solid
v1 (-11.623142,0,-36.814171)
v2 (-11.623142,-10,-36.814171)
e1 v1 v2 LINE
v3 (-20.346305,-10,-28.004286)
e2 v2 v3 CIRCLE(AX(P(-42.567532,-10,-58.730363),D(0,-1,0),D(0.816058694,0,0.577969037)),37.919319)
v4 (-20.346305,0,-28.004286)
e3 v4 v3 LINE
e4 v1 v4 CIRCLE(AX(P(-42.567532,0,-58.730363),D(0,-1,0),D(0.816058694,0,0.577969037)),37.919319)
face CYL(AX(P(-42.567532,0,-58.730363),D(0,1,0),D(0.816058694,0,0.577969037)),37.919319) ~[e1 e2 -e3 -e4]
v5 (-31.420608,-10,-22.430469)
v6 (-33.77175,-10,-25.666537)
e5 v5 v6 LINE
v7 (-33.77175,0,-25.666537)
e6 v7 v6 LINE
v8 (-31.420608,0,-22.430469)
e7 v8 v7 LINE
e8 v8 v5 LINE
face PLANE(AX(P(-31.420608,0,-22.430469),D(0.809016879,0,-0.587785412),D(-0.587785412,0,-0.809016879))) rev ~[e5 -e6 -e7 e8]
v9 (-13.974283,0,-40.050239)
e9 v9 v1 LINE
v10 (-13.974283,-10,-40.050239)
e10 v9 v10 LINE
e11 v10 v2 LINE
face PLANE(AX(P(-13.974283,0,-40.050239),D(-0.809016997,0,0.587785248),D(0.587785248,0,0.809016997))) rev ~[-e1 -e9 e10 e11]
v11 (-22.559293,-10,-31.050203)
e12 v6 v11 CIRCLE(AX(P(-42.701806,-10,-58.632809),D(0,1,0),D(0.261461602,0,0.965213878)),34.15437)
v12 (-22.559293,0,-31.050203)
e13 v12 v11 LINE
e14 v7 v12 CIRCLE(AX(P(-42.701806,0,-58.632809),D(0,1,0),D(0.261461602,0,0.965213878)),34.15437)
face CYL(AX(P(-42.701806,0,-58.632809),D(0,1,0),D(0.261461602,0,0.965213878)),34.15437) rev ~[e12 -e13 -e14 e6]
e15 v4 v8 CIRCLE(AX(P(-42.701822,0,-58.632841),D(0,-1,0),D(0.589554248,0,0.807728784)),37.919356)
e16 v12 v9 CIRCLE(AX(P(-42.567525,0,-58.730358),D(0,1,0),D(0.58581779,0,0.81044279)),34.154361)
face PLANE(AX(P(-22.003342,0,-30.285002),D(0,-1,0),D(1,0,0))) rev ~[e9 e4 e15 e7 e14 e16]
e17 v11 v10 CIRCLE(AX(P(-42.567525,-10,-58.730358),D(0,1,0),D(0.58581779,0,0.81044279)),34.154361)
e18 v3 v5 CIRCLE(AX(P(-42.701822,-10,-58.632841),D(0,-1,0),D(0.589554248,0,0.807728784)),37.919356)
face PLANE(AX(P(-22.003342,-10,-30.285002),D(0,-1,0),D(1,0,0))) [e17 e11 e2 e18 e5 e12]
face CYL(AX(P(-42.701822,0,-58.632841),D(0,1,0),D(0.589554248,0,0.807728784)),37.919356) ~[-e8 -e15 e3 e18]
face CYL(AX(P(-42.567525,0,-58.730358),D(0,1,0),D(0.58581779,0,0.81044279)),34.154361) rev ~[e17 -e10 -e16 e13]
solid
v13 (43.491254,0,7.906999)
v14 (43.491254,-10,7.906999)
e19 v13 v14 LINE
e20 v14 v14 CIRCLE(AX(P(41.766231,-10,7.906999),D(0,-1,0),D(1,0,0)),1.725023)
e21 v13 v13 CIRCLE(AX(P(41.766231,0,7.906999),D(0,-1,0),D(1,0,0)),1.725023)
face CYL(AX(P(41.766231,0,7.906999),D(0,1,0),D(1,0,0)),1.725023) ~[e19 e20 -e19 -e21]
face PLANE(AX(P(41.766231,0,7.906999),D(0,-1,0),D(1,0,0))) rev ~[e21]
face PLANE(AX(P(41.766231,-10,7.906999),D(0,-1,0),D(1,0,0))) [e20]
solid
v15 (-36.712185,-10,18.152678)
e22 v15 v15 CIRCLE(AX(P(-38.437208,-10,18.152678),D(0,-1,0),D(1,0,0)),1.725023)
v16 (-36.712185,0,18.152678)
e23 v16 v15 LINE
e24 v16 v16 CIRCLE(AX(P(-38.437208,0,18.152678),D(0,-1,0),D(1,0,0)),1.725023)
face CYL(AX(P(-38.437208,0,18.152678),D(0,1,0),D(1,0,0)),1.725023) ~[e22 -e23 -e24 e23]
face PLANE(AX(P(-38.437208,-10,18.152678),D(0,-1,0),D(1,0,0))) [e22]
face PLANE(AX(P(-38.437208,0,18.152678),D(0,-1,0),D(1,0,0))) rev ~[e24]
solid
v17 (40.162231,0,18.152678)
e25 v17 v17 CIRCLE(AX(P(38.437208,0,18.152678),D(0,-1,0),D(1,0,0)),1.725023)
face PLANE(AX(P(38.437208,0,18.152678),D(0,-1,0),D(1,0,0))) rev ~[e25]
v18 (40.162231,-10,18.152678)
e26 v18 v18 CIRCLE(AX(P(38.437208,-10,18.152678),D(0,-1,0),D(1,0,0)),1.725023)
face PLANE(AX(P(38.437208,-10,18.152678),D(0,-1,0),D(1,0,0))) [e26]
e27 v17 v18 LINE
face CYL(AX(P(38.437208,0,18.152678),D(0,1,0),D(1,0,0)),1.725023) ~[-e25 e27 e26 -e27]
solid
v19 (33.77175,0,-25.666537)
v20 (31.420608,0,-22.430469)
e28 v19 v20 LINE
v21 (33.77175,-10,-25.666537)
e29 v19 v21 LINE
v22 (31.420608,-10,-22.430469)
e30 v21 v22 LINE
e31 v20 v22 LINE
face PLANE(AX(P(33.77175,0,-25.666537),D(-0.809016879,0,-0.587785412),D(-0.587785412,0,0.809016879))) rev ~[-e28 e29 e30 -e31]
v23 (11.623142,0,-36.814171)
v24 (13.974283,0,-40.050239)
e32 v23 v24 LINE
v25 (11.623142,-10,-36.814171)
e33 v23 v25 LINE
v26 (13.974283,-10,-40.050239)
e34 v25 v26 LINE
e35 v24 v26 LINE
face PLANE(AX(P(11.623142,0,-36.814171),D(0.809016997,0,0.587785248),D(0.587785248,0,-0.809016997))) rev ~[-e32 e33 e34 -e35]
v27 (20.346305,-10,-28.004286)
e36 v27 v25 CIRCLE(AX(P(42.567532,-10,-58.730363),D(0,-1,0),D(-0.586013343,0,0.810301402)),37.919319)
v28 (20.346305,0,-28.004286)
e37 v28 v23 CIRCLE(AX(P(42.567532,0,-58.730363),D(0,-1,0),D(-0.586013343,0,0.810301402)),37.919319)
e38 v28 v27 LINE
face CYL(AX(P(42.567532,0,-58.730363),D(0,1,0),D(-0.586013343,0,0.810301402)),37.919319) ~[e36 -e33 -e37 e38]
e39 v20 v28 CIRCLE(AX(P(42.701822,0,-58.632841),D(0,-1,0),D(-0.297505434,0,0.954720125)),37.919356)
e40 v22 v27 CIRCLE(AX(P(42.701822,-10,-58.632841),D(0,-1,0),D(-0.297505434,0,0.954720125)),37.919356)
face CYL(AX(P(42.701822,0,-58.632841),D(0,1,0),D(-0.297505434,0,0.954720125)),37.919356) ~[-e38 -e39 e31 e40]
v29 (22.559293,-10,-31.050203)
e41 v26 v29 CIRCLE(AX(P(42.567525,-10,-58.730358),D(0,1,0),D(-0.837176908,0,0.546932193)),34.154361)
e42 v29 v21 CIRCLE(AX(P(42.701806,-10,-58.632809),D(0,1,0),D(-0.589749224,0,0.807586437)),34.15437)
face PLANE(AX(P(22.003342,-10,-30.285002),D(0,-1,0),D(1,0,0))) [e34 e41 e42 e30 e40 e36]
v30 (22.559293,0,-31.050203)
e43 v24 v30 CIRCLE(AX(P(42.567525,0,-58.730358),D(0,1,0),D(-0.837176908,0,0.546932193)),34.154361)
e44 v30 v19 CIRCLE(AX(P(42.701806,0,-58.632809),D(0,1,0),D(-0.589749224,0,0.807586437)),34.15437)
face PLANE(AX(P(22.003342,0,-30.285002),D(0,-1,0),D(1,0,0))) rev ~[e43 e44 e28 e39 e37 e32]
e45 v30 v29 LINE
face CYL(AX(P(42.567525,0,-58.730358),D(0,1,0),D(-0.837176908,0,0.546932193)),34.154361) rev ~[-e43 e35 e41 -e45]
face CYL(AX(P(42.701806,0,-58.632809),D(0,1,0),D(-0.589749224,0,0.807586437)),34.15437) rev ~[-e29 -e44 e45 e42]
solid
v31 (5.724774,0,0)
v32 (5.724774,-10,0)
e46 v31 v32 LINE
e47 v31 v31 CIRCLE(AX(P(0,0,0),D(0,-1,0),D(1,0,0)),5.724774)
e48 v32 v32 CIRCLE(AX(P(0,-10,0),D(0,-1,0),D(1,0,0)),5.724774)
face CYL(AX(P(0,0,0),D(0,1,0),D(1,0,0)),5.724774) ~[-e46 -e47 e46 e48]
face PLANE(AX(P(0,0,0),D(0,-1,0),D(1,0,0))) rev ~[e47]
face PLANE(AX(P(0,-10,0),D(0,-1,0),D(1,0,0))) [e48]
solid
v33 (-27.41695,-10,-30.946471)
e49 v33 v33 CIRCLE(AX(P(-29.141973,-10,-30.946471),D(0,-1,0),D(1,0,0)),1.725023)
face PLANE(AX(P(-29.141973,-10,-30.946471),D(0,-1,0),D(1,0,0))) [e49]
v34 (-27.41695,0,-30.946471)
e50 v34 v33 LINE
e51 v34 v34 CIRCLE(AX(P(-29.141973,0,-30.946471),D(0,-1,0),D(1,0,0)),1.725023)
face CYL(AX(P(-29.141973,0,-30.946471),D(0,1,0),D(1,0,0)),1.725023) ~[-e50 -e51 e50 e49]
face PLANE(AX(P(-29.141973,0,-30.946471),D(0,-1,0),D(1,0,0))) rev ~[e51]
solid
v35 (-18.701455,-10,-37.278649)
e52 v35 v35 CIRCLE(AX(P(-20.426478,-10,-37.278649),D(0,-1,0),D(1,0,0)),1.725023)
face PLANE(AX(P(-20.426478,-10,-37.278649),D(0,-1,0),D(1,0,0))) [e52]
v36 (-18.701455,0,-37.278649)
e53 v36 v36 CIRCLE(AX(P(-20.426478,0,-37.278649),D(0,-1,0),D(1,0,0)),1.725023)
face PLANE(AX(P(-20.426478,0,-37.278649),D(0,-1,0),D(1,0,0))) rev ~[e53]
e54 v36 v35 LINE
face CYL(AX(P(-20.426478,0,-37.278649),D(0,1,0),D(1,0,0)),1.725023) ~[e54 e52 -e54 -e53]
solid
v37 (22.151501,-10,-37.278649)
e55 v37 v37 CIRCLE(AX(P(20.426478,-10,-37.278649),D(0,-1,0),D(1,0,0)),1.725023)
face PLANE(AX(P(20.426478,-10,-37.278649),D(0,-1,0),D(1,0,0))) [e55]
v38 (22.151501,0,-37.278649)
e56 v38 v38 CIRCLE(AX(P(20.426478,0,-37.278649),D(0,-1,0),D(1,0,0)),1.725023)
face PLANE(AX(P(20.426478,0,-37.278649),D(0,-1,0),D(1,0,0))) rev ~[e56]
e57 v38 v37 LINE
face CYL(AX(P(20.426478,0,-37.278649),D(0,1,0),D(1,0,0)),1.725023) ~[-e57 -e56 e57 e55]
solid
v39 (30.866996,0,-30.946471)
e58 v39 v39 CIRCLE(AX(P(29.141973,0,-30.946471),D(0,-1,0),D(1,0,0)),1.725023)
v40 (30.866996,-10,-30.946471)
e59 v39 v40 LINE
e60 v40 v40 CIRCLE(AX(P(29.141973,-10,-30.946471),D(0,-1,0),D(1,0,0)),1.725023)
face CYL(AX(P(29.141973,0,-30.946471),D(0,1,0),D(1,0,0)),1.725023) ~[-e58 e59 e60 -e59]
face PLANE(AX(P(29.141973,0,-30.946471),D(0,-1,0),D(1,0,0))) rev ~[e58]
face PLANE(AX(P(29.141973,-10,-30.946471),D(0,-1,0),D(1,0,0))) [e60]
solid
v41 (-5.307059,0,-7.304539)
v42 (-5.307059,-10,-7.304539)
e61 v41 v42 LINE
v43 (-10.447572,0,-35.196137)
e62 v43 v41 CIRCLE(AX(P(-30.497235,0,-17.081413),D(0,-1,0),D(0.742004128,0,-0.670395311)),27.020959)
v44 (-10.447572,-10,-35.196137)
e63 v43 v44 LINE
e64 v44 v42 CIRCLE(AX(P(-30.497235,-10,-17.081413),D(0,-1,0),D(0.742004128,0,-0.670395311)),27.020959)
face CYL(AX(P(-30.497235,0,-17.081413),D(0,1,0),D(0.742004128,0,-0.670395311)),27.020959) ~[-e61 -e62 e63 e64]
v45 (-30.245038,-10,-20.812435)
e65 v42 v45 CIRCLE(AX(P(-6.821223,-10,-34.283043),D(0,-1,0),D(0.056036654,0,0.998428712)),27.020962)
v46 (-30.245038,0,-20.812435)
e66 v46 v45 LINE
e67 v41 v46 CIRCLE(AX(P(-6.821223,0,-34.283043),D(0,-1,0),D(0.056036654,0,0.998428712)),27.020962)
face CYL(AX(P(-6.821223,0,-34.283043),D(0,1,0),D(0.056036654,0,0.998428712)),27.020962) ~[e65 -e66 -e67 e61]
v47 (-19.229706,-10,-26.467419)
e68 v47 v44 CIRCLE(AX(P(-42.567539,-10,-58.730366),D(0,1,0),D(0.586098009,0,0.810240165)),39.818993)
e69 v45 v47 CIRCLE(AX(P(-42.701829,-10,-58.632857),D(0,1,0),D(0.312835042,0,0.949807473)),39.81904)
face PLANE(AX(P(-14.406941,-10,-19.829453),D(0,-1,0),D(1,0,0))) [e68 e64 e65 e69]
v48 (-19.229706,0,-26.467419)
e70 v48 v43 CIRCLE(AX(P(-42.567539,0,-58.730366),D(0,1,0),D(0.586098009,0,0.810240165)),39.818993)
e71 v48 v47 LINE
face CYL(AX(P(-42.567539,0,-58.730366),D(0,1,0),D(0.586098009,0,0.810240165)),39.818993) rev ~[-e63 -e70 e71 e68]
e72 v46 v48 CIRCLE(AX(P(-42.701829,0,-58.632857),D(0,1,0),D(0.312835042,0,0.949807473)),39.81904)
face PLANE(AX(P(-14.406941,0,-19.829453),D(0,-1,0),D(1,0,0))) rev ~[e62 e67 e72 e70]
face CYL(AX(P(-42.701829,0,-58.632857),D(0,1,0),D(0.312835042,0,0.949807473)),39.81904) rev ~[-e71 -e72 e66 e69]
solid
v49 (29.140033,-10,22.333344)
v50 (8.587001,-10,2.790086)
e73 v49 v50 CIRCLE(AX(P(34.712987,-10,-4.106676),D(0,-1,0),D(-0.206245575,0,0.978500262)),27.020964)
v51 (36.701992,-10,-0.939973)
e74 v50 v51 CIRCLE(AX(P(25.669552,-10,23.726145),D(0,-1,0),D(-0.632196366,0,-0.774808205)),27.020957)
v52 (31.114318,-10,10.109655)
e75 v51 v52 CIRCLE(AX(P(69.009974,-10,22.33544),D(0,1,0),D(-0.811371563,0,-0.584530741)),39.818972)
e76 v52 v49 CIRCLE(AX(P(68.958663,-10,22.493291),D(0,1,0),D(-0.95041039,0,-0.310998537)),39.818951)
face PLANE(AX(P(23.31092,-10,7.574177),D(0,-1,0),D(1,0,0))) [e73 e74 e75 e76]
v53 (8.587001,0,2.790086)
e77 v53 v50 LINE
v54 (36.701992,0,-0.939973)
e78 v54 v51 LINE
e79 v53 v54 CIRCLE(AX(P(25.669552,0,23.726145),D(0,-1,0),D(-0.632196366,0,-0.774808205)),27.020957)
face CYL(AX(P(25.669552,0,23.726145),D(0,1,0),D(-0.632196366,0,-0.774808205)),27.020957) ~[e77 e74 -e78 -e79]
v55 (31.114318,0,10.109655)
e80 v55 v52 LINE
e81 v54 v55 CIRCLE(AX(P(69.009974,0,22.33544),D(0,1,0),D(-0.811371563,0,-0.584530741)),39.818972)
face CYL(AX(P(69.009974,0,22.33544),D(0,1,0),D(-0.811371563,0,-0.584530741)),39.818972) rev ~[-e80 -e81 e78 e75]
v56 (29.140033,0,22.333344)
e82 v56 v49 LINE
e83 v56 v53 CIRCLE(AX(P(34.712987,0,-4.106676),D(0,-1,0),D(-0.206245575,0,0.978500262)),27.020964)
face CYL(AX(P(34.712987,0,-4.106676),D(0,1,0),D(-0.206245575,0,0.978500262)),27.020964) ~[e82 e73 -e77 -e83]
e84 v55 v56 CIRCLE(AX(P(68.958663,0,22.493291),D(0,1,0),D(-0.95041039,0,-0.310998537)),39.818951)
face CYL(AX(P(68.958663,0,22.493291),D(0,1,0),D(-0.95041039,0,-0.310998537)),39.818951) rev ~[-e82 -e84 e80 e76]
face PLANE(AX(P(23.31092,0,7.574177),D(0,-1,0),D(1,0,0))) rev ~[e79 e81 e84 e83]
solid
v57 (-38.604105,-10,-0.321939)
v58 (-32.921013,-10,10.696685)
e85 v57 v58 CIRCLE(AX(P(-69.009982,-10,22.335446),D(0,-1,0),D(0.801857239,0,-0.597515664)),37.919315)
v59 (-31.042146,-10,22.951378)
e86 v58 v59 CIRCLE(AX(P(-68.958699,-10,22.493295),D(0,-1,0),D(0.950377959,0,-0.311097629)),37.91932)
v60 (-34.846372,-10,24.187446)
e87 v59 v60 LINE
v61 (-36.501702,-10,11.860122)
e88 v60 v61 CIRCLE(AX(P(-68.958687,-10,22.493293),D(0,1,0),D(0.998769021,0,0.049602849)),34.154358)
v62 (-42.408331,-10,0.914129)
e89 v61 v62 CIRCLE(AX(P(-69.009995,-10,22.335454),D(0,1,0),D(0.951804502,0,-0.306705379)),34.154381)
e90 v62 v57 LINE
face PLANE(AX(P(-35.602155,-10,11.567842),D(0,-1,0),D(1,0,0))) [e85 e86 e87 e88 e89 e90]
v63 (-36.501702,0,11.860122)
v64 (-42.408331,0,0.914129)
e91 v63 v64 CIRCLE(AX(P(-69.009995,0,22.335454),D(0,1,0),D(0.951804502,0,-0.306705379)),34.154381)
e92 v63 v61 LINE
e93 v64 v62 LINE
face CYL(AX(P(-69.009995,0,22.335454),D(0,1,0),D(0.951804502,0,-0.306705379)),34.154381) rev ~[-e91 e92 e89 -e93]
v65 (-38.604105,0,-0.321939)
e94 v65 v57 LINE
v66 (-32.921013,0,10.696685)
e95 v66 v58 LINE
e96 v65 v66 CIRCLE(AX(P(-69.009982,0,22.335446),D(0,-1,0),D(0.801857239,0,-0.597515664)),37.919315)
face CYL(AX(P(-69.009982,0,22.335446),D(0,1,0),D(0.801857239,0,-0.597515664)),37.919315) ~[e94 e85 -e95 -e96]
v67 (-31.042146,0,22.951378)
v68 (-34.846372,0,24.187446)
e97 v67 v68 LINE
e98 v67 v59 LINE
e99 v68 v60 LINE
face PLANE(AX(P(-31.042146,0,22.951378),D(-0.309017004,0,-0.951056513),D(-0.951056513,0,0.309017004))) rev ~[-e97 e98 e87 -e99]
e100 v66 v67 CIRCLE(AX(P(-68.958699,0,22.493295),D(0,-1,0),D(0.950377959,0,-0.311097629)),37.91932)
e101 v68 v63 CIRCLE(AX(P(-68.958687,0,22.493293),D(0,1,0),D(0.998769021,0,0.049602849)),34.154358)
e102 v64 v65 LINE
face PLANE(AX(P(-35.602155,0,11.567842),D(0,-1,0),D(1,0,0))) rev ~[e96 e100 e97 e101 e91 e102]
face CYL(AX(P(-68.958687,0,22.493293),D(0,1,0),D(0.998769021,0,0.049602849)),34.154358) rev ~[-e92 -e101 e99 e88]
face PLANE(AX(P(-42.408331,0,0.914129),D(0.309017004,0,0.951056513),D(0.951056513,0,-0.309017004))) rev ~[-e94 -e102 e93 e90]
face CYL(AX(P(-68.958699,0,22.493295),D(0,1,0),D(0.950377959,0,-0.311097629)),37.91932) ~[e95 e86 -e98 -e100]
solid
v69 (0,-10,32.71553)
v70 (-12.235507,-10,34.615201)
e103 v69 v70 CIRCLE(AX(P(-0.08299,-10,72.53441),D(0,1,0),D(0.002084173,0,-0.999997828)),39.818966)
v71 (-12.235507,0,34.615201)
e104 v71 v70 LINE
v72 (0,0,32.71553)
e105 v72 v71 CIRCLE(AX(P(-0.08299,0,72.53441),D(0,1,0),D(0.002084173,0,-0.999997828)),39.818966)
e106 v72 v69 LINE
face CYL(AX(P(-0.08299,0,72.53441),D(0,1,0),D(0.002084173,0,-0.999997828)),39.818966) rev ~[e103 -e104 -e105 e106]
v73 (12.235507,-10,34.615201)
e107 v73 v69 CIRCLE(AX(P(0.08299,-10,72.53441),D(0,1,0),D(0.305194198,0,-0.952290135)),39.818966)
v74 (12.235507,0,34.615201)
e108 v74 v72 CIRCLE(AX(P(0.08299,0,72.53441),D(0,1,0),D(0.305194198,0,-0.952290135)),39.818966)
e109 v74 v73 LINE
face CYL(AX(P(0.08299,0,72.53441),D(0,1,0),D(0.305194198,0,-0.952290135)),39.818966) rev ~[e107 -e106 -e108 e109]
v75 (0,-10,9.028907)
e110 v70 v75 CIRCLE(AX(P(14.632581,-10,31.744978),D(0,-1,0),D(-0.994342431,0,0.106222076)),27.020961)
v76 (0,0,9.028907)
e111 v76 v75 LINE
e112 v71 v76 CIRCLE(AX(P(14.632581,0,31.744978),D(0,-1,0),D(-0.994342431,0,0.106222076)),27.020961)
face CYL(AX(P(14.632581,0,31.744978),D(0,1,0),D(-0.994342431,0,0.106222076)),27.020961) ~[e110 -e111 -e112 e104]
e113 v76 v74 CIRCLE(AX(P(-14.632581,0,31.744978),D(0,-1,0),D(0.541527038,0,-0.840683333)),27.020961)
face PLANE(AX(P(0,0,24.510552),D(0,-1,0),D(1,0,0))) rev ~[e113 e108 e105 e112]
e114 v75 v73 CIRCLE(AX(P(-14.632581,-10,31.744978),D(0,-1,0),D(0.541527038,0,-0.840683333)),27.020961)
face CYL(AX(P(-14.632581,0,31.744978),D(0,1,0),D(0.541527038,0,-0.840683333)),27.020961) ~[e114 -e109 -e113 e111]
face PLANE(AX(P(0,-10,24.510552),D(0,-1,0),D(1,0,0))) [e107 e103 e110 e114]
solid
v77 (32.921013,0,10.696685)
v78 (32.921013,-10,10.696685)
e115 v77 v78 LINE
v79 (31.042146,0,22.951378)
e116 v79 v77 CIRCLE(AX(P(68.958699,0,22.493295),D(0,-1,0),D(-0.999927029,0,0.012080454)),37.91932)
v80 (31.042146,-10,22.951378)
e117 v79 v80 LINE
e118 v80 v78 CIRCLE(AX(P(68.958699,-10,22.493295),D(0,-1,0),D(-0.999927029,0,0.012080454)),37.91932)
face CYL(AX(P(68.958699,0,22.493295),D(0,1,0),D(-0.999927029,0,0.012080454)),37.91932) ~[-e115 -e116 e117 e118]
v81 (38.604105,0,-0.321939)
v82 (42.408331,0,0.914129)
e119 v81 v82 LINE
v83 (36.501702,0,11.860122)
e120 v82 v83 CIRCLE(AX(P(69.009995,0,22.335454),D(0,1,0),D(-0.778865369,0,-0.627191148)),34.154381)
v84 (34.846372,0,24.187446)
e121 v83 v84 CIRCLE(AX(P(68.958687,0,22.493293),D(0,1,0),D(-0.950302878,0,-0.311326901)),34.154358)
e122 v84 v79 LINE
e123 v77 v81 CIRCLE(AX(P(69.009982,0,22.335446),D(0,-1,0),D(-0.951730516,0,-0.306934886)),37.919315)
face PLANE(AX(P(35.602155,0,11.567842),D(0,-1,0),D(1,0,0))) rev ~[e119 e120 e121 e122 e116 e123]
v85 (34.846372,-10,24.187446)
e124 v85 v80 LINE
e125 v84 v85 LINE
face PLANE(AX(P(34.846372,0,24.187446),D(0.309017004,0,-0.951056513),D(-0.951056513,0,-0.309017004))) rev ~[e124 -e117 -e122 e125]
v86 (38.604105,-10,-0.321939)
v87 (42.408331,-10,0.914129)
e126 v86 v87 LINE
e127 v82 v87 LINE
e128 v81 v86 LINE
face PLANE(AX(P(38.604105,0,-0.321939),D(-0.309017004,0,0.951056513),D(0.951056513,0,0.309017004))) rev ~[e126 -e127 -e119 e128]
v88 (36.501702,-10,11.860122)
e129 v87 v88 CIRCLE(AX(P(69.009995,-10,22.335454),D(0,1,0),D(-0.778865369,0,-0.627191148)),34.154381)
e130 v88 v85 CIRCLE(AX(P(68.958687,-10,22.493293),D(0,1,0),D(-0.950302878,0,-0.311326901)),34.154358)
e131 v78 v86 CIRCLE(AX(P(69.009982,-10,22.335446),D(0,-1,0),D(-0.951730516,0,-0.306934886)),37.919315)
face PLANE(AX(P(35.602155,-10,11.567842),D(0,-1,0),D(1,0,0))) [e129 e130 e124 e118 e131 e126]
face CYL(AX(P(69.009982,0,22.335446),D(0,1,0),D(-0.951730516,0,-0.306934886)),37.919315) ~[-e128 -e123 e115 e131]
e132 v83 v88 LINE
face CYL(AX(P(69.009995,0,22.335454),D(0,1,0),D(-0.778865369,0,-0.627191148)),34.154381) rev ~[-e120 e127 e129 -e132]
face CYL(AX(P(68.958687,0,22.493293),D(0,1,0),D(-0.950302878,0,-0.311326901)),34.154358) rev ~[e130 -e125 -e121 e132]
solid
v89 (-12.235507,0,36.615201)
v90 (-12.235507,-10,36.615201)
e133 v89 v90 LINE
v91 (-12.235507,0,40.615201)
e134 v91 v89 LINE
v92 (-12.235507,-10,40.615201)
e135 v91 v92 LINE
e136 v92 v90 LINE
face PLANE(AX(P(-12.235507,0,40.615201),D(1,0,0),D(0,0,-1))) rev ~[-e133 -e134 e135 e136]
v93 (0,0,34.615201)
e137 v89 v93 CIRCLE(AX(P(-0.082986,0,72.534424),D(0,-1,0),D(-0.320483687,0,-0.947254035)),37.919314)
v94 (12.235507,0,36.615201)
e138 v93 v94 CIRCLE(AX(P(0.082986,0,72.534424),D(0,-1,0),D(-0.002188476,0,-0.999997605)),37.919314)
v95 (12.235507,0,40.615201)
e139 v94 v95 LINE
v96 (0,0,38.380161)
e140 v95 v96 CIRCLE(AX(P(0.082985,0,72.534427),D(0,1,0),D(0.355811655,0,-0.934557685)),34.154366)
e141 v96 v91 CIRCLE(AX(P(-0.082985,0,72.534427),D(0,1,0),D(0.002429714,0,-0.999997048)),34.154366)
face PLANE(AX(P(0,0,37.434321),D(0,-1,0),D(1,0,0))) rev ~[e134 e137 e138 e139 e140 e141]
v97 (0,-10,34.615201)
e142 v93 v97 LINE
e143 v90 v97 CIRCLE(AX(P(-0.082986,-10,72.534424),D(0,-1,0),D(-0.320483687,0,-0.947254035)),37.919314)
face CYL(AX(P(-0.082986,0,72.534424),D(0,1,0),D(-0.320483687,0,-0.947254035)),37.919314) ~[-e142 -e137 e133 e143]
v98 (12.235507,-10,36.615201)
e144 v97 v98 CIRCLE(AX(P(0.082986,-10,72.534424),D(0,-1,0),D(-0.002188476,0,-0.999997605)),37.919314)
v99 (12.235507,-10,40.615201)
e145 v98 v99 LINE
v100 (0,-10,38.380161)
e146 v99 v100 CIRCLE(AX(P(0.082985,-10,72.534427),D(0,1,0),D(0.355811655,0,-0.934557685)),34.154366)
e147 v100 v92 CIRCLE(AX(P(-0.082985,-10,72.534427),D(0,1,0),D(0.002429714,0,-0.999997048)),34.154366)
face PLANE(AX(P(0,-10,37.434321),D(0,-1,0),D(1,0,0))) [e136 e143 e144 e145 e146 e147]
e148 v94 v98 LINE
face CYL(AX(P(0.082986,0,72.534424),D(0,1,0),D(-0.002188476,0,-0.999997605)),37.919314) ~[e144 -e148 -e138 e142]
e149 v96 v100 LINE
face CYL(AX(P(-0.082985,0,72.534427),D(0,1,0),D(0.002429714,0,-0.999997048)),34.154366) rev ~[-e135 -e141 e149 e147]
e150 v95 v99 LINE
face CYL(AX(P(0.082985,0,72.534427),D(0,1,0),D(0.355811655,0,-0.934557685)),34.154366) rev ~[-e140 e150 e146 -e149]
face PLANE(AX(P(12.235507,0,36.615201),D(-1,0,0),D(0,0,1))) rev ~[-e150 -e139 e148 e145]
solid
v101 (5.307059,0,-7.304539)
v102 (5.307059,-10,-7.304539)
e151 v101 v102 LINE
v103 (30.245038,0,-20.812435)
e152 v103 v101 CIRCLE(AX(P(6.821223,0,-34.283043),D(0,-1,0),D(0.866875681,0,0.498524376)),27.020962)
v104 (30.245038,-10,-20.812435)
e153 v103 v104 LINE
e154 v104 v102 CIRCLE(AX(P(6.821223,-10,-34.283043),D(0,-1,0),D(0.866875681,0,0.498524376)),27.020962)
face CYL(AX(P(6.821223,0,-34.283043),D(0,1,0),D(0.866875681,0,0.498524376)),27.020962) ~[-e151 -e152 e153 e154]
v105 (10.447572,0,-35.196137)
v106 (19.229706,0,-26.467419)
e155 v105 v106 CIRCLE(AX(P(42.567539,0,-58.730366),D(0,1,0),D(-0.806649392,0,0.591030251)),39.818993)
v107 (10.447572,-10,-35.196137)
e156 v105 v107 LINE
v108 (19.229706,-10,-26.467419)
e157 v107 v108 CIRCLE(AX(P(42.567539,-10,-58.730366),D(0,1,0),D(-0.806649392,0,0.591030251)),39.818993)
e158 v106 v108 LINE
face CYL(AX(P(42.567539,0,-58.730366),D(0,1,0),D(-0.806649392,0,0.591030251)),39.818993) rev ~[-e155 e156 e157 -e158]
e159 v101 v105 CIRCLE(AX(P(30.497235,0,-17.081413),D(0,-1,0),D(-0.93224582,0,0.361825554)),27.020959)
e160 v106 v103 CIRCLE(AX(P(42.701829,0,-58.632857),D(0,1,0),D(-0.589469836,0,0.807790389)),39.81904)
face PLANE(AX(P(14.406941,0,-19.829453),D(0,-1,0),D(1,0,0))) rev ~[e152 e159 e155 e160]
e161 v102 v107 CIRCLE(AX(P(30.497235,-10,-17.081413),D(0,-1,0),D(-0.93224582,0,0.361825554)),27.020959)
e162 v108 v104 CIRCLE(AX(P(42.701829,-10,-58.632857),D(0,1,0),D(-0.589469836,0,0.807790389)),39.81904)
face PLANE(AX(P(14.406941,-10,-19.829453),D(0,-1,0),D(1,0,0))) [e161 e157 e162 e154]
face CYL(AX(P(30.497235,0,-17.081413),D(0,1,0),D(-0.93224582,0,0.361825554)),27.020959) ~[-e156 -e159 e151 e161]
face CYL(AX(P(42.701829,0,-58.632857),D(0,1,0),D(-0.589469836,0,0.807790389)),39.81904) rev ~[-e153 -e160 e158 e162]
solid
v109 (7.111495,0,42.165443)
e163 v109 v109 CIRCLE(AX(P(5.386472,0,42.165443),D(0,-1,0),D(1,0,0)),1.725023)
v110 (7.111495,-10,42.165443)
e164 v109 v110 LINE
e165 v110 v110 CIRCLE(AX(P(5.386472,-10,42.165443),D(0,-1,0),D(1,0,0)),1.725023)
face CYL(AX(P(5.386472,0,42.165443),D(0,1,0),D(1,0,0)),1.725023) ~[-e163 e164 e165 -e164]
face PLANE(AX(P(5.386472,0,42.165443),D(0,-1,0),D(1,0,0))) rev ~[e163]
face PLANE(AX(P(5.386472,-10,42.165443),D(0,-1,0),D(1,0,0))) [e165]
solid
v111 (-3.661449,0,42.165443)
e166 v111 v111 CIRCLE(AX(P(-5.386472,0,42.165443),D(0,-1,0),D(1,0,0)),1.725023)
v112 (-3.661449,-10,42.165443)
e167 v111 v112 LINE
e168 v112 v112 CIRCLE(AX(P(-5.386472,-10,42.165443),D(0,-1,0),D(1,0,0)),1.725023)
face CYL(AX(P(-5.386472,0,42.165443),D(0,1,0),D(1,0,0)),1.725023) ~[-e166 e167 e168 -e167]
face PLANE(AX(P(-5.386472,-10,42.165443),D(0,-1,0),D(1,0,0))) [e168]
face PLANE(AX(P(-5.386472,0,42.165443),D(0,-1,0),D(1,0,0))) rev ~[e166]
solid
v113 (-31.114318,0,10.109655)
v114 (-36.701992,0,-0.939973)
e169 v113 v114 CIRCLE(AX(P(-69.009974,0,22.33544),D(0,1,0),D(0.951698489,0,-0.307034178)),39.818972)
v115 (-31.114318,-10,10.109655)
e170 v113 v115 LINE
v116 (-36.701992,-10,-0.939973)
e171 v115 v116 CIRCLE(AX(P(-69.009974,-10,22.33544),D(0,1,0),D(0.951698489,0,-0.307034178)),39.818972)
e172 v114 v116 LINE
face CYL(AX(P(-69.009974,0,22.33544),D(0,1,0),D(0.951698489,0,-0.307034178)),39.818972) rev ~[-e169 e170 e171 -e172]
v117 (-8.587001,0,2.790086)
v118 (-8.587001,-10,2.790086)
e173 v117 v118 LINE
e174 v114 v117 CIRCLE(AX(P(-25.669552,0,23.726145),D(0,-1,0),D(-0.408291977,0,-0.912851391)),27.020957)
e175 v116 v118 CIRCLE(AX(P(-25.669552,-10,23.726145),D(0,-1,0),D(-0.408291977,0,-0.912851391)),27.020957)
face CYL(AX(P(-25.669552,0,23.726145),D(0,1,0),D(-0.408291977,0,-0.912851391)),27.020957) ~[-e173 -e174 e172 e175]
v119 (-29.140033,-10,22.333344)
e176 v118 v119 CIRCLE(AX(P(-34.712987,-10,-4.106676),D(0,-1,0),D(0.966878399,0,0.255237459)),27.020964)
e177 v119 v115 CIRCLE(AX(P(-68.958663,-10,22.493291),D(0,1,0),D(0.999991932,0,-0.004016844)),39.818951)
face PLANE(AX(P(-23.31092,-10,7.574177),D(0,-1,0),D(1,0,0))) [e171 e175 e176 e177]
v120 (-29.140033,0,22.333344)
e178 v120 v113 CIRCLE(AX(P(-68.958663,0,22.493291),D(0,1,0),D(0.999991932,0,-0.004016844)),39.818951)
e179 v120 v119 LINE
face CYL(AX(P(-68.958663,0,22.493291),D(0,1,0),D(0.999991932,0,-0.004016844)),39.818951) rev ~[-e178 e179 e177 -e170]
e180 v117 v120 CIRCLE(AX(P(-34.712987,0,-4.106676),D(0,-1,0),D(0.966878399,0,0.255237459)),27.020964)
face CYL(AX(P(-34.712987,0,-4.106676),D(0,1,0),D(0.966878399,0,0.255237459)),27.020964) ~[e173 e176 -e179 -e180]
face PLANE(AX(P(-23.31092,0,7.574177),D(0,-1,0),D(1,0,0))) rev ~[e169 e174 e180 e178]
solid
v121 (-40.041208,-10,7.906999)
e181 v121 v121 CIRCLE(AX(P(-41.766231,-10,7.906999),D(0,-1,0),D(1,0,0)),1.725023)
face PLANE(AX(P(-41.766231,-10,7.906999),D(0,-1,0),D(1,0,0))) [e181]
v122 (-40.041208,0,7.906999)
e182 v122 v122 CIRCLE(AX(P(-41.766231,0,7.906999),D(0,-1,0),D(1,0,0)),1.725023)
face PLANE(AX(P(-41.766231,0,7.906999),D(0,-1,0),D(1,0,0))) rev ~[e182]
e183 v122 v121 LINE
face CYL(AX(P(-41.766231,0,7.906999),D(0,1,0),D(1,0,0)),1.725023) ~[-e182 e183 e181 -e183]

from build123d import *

# Parameters (mm, degrees)
F0_R     = 5.724774
F0_R_2   = 1.725023
F1_DEPTH = 10


with BuildPart() as f1:
    # F0 (on Front) → F1 (new body)
    with BuildSketch(Plane.XZ):
        with BuildLine():
            ThreePointArc((-31.114318, 10.109655), (-33.476029, 4.366319), (-36.701992, -0.939973))
            ThreePointArc((-36.701992, -0.939973), (-22.11578, -3.060098), (-8.587001, 2.790086))
            ThreePointArc((-8.587001, 2.790086), (-16.093362, 15.475), (-29.140033, 22.333344))
            ThreePointArc((-29.140033, 22.333344), (-29.649134, 16.14429), (-31.114318, 10.109655))
        make_face()
        with BuildLine():
            ThreePointArc((-32.921013, 10.696685), (-31.477347, 16.746724), (-31.042146, 22.951378))
            Line((-31.042146, 22.951378), (-34.846372, 24.187446))
            ThreePointArc((-34.846372, 24.187446), (-35.108153, 17.947796), (-36.501702, 11.860122))
            ThreePointArc((-36.501702, 11.860122), (-38.952543, 6.115982), (-42.408331, 0.914129))
            Line((-42.408331, 0.914129), (-38.604105, -0.321939))
            ThreePointArc((-38.604105, -0.321939), (-35.309186, 4.953536), (-32.921013, 10.696685))
        make_face()
        with BuildLine():
            ThreePointArc((0, 32.71553), (-6.192045, 33.186862), (-12.235507, 34.615201))
            ThreePointArc((-12.235507, 34.615201), (-9.744478, 20.087735), (0, 9.028907))
            ThreePointArc((0, 9.028907), (9.744478, 20.087735), (12.235507, 34.615201))
            ThreePointArc((12.235507, 34.615201), (6.192045, 33.186862), (0, 32.71553))
        make_face()
        with BuildLine():
            Line((-12.235507, 40.615201), (-12.235507, 36.615201))
            ThreePointArc((-12.235507, 36.615201), (-6.200046, 35.111758), (0, 34.615201))
            ThreePointArc((0, 34.615201), (6.200046, 35.111758), (12.235507, 36.615201))
            Line((12.235507, 36.615201), (12.235507, 40.615201))
            ThreePointArc((12.235507, 40.615201), (6.220353, 38.936012), (0, 38.380161))
            ThreePointArc((0, 38.380161), (-6.220353, 38.936012), (-12.235507, 40.615201))
        make_face()
        with BuildLine():
            ThreePointArc((31.114318, 10.109655), (29.649134, 16.14429), (29.140033, 22.333344))
            ThreePointArc((29.140033, 22.333344), (16.093362, 15.475), (8.587001, 2.790086))
            ThreePointArc((8.587001, 2.790086), (22.11578, -3.060098), (36.701992, -0.939973))
            ThreePointArc((36.701992, -0.939973), (33.476029, 4.366319), (31.114318, 10.109655))
        make_face()
        with BuildLine():
            ThreePointArc((32.921013, 10.696685), (35.309186, 4.953536), (38.604105, -0.321939))
            Line((38.604105, -0.321939), (42.408331, 0.914129))
            ThreePointArc((42.408331, 0.914129), (38.952543, 6.115982), (36.501702, 11.860122))
            ThreePointArc((36.501702, 11.860122), (35.108153, 17.947796), (34.846372, 24.187446))
            Line((34.846372, 24.187446), (31.042146, 22.951378))
            ThreePointArc((31.042146, 22.951378), (31.477347, 16.746724), (32.921013, 10.696685))
        make_face()
        with BuildLine():
            ThreePointArc((19.229706, -26.467419), (24.516218, -23.209143), (30.245038, -20.812435))
            ThreePointArc((30.245038, -20.812435), (19.690722, -10.523658), (5.307059, -7.304539))
            ThreePointArc((5.307059, -7.304539), (3.923826, -21.978979), (10.447572, -35.196137))
            ThreePointArc((10.447572, -35.196137), (14.497278, -30.488329), (19.229706, -26.467419))
        make_face()
        with BuildLine():
            ThreePointArc((20.346305, -28.004286), (15.622231, -32.050305), (11.623142, -36.814171))
            Line((11.623142, -36.814171), (13.974283, -40.050239))
            ThreePointArc((13.974283, -40.050239), (17.853643, -35.156127), (22.559293, -31.050203))
            ThreePointArc((22.559293, -31.050203), (27.918385, -27.843664), (33.77175, -25.666537))
            Line((33.77175, -25.666537), (31.420608, -22.430469))
            ThreePointArc((31.420608, -22.430469), (25.654116, -24.761714), (20.346305, -28.004286))
        make_face()
        with BuildLine():
            ThreePointArc((-19.229706, -26.467419), (-14.497278, -30.488329), (-10.447572, -35.196137))
            ThreePointArc((-10.447572, -35.196137), (-3.923826, -21.978979), (-5.307059, -7.304539))
            ThreePointArc((-5.307059, -7.304539), (-19.690722, -10.523658), (-30.245038, -20.812435))
            ThreePointArc((-30.245038, -20.812435), (-24.516218, -23.209143), (-19.229706, -26.467419))
        make_face()
        with BuildLine():
            ThreePointArc((-20.346305, -28.004286), (-25.654116, -24.761714), (-31.420608, -22.430469))
            Line((-31.420608, -22.430469), (-33.77175, -25.666537))
            ThreePointArc((-33.77175, -25.666537), (-27.918385, -27.843664), (-22.559293, -31.050203))
            ThreePointArc((-22.559293, -31.050203), (-17.853643, -35.156127), (-13.974283, -40.050239))
            Line((-13.974283, -40.050239), (-11.623142, -36.814171))
            ThreePointArc((-11.623142, -36.814171), (-15.622231, -32.050305), (-20.346305, -28.004286))
        make_face()
        Circle(F0_R)
        with Locations((-5.386472, 42.165443)):
            Circle(F0_R_2)
        with Locations((5.386472, 42.165443)):
            Circle(F0_R_2)
        with Locations((38.437208, 18.152678)):
            Circle(F0_R_2)
        with Locations((41.766231, 7.906999)):
            Circle(F0_R_2)
        with Locations((29.141973, -30.946471)):
            Circle(F0_R_2)
        with Locations((20.426478, -37.278649)):
            Circle(F0_R_2)
        with Locations((-20.426478, -37.278649)):
            Circle(F0_R_2)
        with Locations((-29.141973, -30.946471)):
            Circle(F0_R_2)
        with Locations((-41.766231, 7.906999)):
            Circle(F0_R_2)
        with Locations((-38.437208, 18.152678)):
            Circle(F0_R_2)
    extrude(amount=F1_DEPTH)


solid = f1.part
